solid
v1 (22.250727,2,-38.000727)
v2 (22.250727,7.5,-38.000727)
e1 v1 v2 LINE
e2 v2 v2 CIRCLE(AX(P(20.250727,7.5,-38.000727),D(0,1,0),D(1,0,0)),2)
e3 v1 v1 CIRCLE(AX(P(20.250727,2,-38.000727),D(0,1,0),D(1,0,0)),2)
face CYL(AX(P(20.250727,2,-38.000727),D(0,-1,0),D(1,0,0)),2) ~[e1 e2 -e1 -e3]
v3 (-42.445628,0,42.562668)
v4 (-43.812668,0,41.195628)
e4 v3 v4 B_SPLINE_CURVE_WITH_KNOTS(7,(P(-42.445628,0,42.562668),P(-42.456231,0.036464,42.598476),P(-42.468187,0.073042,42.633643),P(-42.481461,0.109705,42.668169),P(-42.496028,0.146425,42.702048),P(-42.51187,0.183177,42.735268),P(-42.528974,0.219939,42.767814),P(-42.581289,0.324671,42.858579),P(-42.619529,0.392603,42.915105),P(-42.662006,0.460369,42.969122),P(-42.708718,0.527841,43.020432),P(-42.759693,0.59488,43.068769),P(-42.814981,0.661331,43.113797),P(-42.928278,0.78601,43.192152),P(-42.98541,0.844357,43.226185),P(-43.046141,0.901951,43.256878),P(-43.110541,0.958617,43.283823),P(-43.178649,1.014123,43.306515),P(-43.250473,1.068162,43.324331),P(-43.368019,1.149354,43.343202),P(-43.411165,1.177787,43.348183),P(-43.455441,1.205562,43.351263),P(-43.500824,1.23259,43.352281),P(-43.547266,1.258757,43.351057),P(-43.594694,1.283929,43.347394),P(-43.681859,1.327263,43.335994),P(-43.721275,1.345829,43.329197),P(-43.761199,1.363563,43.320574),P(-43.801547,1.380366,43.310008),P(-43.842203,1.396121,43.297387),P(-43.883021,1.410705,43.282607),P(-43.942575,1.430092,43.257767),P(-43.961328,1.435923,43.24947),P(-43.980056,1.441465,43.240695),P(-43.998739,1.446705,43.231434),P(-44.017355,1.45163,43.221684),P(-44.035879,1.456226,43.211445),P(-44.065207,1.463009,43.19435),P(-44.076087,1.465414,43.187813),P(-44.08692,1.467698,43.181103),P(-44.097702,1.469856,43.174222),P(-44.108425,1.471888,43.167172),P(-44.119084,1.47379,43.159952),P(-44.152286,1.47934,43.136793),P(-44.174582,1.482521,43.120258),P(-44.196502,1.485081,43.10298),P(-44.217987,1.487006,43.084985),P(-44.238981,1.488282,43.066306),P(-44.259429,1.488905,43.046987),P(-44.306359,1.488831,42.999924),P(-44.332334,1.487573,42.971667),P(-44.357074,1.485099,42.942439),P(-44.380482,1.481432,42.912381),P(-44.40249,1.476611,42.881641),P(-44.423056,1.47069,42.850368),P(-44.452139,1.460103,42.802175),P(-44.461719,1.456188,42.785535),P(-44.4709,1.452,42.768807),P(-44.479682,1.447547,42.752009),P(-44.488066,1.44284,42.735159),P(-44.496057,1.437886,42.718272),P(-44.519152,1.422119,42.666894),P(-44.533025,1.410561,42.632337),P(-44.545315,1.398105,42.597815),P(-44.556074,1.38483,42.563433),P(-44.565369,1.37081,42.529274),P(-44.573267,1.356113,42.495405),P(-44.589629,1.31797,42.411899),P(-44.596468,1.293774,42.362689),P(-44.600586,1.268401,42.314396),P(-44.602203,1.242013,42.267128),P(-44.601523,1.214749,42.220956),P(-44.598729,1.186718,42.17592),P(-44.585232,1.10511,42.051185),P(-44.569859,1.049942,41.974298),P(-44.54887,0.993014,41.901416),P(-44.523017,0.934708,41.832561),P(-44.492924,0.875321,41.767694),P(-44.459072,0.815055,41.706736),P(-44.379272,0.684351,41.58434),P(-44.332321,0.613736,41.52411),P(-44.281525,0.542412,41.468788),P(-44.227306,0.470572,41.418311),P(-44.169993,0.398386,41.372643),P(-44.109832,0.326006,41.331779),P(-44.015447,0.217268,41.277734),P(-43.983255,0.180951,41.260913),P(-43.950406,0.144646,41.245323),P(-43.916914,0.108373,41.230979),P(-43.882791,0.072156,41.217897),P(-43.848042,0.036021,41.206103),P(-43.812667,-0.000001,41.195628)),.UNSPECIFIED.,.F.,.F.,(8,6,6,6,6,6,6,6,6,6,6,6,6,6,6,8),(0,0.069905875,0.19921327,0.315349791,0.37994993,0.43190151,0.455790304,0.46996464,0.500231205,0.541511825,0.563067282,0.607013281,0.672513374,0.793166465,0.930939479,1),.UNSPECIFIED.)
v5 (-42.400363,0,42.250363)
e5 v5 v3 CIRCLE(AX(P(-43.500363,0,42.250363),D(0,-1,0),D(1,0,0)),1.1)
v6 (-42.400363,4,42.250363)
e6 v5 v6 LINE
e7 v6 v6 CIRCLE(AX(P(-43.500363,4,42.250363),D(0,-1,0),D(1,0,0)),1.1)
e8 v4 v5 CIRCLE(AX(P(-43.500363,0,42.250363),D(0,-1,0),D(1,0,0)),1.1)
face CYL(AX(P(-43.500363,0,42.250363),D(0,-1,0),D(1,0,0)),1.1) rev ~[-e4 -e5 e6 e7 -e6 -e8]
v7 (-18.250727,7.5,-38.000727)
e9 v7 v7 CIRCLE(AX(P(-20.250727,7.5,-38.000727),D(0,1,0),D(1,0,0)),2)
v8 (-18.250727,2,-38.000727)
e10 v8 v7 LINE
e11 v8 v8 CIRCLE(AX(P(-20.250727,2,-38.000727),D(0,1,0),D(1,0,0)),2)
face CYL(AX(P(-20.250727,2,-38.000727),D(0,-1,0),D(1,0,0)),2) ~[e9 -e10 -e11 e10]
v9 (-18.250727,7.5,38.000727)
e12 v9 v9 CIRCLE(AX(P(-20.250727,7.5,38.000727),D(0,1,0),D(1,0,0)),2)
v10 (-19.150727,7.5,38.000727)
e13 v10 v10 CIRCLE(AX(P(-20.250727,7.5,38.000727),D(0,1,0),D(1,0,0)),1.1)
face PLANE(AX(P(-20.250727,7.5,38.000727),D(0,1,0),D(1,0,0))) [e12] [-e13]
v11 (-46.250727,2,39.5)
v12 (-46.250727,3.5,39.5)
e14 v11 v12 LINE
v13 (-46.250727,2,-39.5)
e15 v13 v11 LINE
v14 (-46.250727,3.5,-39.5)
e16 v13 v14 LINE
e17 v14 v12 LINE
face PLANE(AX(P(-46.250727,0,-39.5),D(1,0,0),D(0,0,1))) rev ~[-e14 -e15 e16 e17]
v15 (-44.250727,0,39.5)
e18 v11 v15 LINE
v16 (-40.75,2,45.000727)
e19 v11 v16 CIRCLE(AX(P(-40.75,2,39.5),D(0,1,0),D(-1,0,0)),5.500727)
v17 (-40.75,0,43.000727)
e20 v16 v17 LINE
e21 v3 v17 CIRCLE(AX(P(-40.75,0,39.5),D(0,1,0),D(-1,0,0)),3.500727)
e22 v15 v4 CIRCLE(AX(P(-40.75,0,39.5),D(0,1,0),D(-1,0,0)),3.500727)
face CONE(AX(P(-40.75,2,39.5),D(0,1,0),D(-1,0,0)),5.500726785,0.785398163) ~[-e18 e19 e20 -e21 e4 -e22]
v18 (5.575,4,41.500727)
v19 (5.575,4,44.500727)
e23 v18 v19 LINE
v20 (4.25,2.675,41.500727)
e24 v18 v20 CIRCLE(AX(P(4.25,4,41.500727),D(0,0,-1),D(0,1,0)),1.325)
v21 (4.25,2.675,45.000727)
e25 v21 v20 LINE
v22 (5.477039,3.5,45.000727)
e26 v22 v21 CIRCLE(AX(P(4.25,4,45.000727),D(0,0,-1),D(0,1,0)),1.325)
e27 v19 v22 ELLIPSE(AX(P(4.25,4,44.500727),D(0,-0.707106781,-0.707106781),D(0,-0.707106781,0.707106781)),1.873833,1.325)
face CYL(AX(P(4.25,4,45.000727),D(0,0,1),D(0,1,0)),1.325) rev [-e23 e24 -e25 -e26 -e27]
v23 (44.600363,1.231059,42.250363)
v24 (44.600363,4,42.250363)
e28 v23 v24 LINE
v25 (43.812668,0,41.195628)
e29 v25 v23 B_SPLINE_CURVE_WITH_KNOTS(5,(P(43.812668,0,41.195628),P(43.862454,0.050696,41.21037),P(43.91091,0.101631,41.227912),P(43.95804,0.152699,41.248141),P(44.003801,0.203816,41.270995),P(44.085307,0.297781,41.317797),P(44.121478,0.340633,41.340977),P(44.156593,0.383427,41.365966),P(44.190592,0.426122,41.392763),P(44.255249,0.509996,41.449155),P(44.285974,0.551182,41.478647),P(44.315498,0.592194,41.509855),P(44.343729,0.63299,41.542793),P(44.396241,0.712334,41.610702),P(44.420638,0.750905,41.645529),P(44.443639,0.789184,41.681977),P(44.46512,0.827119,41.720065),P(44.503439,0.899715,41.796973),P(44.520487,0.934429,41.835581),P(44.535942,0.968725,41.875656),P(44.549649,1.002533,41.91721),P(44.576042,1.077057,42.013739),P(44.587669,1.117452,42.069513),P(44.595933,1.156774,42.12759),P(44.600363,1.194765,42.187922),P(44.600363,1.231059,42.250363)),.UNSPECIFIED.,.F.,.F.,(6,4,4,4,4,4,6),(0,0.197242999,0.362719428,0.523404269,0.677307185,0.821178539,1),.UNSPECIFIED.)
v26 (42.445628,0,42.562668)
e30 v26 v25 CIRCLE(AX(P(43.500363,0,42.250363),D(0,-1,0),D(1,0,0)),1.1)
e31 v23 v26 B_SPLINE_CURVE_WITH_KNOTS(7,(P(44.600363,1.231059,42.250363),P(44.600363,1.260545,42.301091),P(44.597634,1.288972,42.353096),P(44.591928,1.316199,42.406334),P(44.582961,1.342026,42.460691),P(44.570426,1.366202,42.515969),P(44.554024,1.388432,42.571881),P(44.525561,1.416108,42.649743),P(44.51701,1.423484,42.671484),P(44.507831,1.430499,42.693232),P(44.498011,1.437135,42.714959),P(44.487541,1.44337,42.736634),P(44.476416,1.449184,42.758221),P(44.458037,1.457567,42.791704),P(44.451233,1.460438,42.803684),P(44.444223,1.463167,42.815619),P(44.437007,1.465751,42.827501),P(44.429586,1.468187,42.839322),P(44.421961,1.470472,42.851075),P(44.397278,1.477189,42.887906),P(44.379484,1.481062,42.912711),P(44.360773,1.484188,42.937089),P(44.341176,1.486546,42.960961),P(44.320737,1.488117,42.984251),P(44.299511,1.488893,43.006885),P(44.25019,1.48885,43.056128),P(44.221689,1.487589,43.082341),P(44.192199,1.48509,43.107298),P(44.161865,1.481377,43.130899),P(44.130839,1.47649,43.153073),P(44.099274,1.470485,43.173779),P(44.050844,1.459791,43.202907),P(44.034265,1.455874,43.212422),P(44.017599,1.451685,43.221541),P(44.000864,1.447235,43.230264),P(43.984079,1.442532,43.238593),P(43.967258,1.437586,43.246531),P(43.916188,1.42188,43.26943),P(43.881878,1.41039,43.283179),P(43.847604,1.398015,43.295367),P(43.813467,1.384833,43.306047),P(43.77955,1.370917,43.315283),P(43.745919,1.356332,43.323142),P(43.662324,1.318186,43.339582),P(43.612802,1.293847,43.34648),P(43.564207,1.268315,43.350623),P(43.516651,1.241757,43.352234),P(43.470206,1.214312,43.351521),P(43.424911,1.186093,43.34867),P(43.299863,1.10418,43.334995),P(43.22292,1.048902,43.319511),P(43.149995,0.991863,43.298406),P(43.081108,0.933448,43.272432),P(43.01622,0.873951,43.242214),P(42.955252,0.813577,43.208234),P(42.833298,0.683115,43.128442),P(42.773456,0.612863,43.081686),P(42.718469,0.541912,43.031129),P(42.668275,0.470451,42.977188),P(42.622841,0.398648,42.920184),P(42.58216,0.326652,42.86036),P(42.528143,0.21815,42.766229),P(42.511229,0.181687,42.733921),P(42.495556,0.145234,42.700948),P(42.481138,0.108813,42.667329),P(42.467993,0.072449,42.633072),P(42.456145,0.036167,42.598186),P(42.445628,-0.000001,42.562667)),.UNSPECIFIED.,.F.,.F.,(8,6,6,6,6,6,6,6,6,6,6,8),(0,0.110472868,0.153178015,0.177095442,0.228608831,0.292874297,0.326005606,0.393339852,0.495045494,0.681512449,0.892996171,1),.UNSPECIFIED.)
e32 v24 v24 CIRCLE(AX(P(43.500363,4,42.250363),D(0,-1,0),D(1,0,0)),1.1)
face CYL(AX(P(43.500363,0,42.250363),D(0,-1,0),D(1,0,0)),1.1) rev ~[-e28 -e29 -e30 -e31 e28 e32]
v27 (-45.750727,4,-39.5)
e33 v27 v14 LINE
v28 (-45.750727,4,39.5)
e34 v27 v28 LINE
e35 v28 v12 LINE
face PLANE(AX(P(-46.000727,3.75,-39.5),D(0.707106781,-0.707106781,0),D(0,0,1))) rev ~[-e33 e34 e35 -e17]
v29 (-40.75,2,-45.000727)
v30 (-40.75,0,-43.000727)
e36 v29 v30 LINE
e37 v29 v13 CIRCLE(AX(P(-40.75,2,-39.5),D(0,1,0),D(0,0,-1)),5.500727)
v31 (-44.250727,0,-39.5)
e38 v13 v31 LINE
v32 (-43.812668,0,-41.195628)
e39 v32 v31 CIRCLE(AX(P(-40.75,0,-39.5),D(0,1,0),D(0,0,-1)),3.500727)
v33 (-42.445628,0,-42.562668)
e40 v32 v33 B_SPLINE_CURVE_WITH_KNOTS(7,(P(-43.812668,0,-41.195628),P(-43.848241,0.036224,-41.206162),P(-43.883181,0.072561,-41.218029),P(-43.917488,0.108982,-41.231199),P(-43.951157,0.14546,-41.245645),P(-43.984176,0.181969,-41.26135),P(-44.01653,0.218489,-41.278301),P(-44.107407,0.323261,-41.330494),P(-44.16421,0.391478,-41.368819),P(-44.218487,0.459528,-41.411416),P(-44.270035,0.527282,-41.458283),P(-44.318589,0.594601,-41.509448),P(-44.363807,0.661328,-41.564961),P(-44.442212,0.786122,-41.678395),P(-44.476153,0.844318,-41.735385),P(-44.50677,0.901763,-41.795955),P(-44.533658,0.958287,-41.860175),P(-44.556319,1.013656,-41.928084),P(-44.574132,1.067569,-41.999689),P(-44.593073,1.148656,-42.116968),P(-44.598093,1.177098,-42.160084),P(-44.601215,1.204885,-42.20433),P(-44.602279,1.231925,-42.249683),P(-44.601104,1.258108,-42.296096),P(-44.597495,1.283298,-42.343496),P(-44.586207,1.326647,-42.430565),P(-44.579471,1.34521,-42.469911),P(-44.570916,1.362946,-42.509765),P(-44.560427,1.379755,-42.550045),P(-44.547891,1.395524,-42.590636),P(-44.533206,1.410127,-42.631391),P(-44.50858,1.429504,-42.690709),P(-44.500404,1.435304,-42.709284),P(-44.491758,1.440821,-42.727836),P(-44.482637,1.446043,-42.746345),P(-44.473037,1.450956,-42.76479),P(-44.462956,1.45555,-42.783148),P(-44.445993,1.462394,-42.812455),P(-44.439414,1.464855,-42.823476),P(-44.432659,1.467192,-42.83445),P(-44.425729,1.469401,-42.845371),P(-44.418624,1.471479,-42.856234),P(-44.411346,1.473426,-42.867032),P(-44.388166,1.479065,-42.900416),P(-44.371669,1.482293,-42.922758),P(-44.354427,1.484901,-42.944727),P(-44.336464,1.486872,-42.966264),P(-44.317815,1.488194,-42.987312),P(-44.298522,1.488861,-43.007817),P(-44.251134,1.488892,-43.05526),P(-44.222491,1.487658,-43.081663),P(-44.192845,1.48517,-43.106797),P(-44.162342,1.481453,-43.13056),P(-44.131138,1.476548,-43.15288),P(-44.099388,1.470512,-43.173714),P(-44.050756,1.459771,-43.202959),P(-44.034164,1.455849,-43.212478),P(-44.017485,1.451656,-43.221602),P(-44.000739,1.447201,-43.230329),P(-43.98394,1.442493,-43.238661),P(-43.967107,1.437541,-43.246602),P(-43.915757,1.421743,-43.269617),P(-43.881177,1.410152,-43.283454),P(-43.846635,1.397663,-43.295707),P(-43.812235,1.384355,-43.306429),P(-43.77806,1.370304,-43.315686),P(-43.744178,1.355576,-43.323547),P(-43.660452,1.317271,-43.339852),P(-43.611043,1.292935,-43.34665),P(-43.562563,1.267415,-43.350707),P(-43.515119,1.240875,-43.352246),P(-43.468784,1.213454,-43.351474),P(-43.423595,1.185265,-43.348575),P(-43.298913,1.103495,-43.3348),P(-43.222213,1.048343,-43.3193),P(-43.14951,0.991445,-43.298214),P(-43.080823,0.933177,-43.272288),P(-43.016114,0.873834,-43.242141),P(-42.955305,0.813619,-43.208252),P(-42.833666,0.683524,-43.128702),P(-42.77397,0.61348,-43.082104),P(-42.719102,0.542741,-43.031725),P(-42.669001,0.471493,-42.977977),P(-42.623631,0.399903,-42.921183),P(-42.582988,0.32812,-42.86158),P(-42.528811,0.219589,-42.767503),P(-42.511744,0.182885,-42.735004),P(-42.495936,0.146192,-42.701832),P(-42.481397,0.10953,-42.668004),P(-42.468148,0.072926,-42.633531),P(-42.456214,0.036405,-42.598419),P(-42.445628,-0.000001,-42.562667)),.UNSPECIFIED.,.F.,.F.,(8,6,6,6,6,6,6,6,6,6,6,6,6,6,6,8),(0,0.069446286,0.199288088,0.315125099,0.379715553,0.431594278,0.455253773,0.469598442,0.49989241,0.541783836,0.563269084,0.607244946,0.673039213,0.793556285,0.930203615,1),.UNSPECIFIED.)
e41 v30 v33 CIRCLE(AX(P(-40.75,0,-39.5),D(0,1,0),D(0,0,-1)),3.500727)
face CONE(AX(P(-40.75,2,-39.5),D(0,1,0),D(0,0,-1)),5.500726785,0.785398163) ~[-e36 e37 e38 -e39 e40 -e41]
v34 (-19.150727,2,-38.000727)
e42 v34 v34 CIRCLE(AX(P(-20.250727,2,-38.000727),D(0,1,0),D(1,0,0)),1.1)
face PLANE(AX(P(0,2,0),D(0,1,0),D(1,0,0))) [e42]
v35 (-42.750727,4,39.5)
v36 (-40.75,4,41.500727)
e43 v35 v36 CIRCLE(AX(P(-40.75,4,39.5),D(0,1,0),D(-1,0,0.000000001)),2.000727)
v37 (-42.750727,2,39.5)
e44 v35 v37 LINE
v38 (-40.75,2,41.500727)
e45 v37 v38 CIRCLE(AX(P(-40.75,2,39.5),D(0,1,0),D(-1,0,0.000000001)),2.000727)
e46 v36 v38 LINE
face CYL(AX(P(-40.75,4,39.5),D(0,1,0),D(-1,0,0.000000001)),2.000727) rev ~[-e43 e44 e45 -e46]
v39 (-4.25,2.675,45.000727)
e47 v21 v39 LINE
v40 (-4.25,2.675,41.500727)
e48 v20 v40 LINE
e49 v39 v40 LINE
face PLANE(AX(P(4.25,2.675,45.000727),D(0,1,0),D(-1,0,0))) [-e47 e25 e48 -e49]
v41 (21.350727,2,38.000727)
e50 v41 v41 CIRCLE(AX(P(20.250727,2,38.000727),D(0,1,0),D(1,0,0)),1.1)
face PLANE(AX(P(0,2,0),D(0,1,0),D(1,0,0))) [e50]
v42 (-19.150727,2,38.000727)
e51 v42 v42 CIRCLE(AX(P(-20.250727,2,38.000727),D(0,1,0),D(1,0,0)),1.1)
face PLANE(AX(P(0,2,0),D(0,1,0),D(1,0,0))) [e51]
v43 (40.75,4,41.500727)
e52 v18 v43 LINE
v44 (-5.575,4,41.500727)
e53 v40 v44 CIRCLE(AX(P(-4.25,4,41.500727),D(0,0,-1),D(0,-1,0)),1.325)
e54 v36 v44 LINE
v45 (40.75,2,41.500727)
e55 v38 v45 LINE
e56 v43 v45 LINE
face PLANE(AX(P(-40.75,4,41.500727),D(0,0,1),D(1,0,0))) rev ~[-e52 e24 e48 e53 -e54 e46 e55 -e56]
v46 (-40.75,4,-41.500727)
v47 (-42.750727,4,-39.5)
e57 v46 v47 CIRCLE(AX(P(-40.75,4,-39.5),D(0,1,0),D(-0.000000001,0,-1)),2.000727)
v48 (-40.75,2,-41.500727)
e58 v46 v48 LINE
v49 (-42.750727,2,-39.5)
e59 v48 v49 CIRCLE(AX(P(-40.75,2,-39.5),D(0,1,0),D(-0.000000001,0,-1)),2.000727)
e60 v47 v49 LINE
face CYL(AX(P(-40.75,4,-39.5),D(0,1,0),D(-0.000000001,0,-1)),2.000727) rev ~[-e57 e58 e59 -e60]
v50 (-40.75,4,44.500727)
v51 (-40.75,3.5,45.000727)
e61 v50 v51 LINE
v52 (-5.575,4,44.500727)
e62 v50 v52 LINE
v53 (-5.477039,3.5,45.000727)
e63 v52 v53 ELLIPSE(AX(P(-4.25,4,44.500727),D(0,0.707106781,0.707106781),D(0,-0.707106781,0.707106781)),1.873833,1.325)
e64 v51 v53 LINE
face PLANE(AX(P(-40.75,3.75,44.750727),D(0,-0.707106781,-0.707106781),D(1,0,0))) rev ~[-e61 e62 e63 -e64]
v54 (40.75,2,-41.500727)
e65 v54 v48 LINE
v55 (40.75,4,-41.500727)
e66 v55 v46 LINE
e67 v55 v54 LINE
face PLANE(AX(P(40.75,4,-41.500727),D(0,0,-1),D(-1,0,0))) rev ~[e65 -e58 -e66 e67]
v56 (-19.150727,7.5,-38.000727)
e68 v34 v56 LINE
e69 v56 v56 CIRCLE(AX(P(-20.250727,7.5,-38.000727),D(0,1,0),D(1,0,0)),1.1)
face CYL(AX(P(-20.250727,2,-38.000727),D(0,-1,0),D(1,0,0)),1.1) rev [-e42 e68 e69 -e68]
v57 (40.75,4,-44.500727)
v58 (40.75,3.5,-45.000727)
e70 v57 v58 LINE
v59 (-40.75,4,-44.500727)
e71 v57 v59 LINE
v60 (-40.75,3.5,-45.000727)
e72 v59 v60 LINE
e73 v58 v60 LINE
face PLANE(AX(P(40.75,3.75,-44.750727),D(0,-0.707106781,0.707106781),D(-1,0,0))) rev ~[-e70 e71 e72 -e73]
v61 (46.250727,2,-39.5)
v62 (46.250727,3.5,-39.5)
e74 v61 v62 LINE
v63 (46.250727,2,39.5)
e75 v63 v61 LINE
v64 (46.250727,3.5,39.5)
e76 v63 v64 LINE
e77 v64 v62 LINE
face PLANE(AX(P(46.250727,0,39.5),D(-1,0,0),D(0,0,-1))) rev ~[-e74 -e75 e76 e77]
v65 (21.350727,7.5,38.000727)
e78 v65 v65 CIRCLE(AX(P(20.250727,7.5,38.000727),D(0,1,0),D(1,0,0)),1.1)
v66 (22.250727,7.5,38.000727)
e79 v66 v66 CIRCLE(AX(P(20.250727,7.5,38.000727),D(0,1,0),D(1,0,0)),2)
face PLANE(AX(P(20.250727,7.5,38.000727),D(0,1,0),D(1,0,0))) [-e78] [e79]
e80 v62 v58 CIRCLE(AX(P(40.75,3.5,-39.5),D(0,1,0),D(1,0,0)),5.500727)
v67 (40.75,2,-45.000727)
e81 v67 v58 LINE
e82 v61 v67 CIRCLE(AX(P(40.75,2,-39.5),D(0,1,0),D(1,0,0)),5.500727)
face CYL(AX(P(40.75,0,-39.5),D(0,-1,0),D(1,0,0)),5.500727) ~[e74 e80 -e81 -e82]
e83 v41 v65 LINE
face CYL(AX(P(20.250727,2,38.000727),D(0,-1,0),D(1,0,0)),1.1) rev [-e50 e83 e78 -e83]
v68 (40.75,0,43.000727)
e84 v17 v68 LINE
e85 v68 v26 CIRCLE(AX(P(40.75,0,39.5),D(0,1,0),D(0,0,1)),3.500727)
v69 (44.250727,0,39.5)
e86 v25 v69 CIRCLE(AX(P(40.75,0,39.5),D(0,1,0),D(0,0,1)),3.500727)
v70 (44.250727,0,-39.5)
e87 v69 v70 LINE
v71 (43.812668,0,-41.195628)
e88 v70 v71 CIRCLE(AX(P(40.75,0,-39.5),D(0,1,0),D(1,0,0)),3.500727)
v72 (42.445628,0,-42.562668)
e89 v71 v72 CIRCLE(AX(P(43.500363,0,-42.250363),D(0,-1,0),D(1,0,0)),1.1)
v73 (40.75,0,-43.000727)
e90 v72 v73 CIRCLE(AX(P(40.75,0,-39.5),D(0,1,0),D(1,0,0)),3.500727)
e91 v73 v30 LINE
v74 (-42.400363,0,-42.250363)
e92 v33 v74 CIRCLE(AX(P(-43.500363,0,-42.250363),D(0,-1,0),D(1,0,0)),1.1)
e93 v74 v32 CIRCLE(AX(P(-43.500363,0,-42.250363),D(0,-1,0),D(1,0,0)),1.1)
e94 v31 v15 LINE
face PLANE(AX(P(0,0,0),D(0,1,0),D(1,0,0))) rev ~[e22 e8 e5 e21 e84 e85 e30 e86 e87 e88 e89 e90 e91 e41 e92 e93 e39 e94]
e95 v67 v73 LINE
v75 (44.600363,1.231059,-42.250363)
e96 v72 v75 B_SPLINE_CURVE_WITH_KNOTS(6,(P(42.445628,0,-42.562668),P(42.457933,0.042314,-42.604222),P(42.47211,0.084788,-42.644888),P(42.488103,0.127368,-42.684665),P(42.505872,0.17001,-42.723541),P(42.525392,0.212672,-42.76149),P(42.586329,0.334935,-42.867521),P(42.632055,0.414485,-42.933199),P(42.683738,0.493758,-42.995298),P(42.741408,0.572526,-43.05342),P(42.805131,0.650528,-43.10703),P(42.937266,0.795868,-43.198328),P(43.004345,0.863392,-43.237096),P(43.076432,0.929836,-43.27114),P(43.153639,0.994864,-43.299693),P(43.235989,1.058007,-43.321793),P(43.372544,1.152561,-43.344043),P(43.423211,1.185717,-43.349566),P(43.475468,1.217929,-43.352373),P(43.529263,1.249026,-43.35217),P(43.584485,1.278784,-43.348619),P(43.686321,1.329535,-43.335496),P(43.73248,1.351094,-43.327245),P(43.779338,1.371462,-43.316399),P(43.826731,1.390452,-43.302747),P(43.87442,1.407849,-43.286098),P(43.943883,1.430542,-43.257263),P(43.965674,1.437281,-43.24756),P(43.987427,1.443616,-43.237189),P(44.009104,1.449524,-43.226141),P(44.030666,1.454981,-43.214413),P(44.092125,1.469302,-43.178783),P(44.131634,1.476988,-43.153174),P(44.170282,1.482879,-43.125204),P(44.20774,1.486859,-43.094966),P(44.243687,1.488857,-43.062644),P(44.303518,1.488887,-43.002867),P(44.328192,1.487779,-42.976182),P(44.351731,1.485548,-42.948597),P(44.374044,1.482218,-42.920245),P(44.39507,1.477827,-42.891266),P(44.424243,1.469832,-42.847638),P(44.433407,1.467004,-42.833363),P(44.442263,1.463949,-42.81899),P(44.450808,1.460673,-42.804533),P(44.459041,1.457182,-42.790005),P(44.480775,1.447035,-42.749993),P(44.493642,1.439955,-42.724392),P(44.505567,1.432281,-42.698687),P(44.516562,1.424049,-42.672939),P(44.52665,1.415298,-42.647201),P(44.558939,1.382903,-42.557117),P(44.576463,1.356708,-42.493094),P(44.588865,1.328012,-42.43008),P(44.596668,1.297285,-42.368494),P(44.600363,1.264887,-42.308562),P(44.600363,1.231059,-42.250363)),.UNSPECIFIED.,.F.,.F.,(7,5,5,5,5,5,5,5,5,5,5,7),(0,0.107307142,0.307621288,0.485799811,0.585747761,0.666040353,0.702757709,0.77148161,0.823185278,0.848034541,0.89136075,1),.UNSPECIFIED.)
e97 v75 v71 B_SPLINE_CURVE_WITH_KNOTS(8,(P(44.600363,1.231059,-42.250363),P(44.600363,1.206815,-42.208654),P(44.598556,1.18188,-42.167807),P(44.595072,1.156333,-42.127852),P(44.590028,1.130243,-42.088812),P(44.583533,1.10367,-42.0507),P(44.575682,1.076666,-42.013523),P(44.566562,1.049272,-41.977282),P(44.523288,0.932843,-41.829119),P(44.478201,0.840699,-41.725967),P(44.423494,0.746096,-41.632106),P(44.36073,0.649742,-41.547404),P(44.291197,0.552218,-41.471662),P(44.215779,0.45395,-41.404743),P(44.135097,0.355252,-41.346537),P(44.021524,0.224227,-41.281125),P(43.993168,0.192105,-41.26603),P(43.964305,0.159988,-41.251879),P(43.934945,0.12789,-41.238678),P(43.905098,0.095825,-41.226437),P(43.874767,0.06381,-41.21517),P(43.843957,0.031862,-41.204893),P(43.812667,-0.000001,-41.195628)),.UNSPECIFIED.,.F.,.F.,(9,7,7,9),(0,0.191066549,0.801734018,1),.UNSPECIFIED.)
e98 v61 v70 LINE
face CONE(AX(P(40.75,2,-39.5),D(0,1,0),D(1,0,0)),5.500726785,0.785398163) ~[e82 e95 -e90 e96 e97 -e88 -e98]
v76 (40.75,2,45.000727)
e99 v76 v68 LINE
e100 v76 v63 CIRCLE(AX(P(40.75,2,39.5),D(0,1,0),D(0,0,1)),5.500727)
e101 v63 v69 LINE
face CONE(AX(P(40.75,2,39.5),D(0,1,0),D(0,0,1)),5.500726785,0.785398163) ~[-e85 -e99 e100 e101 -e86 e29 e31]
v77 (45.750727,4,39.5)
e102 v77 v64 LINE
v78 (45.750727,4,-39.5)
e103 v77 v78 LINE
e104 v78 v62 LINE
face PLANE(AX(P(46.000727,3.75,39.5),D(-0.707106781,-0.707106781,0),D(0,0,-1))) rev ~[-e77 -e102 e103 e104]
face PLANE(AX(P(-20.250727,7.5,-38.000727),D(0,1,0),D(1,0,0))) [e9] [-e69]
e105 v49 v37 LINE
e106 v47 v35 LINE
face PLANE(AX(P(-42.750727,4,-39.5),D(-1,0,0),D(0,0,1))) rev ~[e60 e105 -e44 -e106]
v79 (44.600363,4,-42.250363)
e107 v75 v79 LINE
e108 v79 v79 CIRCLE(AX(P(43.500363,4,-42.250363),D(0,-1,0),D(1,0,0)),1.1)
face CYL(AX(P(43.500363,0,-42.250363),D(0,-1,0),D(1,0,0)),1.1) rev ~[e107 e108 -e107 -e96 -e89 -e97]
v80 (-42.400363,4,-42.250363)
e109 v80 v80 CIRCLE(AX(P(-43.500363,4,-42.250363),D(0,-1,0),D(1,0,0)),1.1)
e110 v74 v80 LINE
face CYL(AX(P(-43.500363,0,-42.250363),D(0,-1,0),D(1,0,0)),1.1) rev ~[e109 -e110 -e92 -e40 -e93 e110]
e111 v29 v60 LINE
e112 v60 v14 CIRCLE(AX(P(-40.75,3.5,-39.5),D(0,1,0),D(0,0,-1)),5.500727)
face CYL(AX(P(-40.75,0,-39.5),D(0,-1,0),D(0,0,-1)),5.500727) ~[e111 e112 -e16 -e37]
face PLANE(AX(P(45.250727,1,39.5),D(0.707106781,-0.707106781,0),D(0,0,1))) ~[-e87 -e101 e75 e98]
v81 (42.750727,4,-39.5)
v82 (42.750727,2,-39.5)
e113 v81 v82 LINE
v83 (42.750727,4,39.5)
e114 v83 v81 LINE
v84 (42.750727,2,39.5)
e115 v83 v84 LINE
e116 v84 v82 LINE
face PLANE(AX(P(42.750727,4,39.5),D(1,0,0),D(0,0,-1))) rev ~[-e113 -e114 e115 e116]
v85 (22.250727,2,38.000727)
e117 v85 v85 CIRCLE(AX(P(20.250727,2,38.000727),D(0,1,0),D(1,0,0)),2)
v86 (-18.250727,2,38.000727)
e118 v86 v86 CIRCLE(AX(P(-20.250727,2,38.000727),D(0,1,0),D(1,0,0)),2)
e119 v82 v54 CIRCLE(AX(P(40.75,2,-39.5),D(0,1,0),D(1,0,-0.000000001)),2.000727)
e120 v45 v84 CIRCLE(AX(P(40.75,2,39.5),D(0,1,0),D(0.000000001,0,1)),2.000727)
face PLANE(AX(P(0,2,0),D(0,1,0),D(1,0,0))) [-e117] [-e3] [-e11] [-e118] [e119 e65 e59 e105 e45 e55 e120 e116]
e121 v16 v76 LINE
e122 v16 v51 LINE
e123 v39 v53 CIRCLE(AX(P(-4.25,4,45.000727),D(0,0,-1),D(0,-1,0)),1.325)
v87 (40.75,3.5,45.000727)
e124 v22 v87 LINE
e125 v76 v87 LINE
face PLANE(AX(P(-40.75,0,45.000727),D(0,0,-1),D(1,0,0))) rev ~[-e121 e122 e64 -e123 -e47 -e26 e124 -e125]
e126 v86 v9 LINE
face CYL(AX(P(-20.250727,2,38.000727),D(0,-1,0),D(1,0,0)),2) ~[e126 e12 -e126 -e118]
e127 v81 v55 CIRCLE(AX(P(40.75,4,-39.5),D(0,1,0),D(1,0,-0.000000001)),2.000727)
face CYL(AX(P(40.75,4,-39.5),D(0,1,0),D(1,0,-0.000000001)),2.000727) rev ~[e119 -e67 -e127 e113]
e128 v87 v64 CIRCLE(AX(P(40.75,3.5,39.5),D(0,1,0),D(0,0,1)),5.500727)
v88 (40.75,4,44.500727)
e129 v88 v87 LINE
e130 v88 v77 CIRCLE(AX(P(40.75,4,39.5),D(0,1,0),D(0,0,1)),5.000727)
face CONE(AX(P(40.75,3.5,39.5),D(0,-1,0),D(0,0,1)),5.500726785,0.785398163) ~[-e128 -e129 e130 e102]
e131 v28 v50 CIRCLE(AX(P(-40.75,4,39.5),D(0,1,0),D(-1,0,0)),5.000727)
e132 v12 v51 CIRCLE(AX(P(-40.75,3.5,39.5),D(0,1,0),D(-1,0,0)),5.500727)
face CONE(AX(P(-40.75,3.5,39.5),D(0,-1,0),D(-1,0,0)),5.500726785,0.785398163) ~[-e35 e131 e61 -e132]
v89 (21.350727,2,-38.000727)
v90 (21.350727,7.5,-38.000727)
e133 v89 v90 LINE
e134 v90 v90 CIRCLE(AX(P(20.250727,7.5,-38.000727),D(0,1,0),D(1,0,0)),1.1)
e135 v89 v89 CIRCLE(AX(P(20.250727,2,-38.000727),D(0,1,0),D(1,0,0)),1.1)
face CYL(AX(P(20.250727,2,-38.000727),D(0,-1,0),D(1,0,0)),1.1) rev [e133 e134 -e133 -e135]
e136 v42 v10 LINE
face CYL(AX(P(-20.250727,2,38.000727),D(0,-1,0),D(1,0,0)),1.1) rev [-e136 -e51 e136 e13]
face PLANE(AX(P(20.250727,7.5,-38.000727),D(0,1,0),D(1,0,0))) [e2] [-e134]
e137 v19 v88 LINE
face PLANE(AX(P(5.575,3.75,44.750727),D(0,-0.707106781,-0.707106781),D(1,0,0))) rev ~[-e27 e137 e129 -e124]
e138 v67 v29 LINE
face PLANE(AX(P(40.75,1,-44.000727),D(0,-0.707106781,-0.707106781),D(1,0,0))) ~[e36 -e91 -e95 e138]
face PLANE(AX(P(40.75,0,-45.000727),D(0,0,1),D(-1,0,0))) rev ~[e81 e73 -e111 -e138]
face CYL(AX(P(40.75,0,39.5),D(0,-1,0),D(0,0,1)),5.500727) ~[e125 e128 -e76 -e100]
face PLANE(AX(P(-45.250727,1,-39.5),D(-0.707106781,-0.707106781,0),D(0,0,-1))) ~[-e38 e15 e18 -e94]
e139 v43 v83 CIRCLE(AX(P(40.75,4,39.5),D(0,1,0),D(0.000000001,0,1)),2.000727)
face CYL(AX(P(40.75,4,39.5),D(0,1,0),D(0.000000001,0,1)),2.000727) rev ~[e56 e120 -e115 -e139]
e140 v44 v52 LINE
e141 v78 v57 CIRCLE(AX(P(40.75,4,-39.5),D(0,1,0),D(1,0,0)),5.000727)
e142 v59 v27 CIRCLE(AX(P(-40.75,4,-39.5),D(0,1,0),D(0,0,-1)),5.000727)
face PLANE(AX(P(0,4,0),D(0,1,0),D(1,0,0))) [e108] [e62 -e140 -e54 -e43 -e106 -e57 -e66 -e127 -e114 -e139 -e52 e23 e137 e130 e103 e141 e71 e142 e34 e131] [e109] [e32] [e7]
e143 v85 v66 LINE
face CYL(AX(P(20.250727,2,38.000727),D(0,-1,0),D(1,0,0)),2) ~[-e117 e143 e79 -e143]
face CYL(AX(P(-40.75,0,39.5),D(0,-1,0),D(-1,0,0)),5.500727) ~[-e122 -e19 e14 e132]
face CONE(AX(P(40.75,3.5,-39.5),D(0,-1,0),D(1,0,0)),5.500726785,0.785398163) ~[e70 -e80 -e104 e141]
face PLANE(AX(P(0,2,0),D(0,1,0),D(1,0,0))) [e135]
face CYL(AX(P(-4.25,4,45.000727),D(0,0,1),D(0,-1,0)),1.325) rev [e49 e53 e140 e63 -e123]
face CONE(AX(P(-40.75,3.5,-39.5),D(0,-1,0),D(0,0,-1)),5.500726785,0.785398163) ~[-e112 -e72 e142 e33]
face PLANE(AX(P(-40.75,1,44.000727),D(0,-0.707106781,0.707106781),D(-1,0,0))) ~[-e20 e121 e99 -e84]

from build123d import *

# Parameters (mm, degrees)
BOSS_EXTRUDE1_DEPTH = 4
CUT_EXTRUDE1_DEPTH  = 2
CUT_EXTRUDE2_DEPTH  = 3.5
CHAMFER2_SIZE       = 2
CHAMFER3_SIZE       = 0.5
SKETCH4_R           = 2
SKETCH4_R_2         = 1.1
BOSS_EXTRUDE2_DEPTH = 5.5
SKETCH5_R           = 1.1
CUT_EXTRUDE3_DEPTH  = 4


with BuildPart() as part:
    # Sketch1 → Boss-Extrude1 (new body)
    with BuildSketch(Plane(origin=(0, 0, 0), x_dir=(1, 0, 0), z_dir=(0, 1, 0))):
        with BuildLine():
            Line((40.75, 45.000726786), (-40.75, 45.000726786))
            ThreePointArc((-40.75, 45.000726786), (-44.639601212, 43.389601212), (-46.250726786, 39.5))
            Line((-46.250726786, 39.5), (-46.250726786, -39.5))
            ThreePointArc((-46.250726786, -39.5), (-44.639601212, -43.389601212), (-40.75, -45.000726786))
            Line((-40.75, -45.000726786), (40.75, -45.000726786))
            ThreePointArc((40.75, -45.000726786), (44.639601212, -43.389601212), (46.250726786, -39.5))
            Line((46.250726786, -39.5), (46.250726786, 39.5))
            ThreePointArc((46.250726786, 39.5), (44.639601212, 43.389601212), (40.75, 45.000726786))
        make_face()
    extrude(amount=BOSS_EXTRUDE1_DEPTH)

    # Sketch2 → Cut-Extrude1 (cut)
    with BuildSketch(Plane(origin=(0, 4, 0), x_dir=(1, 0, 0), z_dir=(0, 1, 0))):
        with BuildLine():
            Line((-42.750726786, 39.5), (-42.750726786, -39.5))
            ThreePointArc((-42.750726786, -39.5), (-42.164727477, -40.914727477), (-40.75, -41.500726786))
            Line((-40.75, -41.500726786), (40.75, -41.500726786))
            ThreePointArc((40.75, -41.500726786), (42.164727477, -40.914727477), (42.750726786, -39.5))
            Line((42.750726786, -39.5), (42.750726786, 39.5))
            ThreePointArc((42.750726786, 39.5), (42.164727477, 40.914727477), (40.75, 41.500726786))
            Line((40.75, 41.500726786), (-40.75, 41.500726786))
            ThreePointArc((-40.75, 41.500726786), (-42.164727477, 40.914727477), (-42.750726786, 39.5))
        make_face()
    extrude(amount=-CUT_EXTRUDE1_DEPTH, mode=Mode.SUBTRACT)

    # Sketch3 → Cut-Extrude2 (cut)
    with BuildSketch(Plane.XY.offset(45.000726786)):
        with BuildLine():
            Line((-4.25, 5.325), (4.25, 5.325))
            ThreePointArc((4.25, 5.325), (5.575, 4), (4.25, 2.675))
            Line((4.25, 2.675), (-4.25, 2.675))
            ThreePointArc((-4.25, 2.675), (-5.575, 4), (-4.25, 5.325))
        make_face()
    extrude(amount=-CUT_EXTRUDE2_DEPTH, mode=Mode.SUBTRACT)

    # Chamfer2
    chamfer2_edges = [part.edges().sort_by_distance(p)[0] for p in [
        (44.639601212, 0, -43.389601212),
        (46.250726786, 0, 0),
        (44.639601212, 0, 43.389601212),
        (0, 0, 45.000726786),
        (-44.639601212, 0, 43.389601212),
        (-46.250726786, 0, 0),
        (-44.639601212, 0, -43.389601212),
        (0, 0, -45.000726786),
    ]]
    chamfer(chamfer2_edges, length=CHAMFER2_SIZE)

    # Chamfer3
    chamfer3_edges = [part.edges().sort_by_distance(p)[0] for p in [
        (46.250726786, 4, 0),
        (44.639601212, 4, -43.389601212),
        (0, 4, -45.000726786),
        (-44.639601212, 4, -43.389601212),
        (-46.250726786, 4, 0),
        (-44.639601212, 4, 43.389601212),
        (-23.1625, 4, 45.000726786),
        (23.1625, 4, 45.000726786),
        (44.639601212, 4, 43.389601212),
    ]]
    chamfer(chamfer3_edges, length=CHAMFER3_SIZE)

    # Sketch4 → Boss-Extrude2 (add)
    with BuildSketch(Plane(origin=(0, 2, 0), x_dir=(1, 0, 0), z_dir=(0, 1, 0))):
        with Locations((-20.250726786, -38.000726786)):
            Circle(SKETCH4_R)
        with Locations((-20.250726786, -38.000726786)):
            Circle(SKETCH4_R_2, mode=Mode.SUBTRACT)
        with Locations((20.250726786, -38.000726786)):
            Circle(SKETCH4_R)
        with Locations((20.250726786, -38.000726786)):
            Circle(SKETCH4_R_2, mode=Mode.SUBTRACT)
        with Locations((20.250726786, 38.000726786)):
            Circle(SKETCH4_R)
        with Locations((20.250726786, 38.000726786)):
            Circle(SKETCH4_R_2, mode=Mode.SUBTRACT)
        with Locations((-20.250726786, 38.000726786)):
            Circle(SKETCH4_R)
        with Locations((-20.250726786, 38.000726786)):
            Circle(SKETCH4_R_2, mode=Mode.SUBTRACT)
    extrude(amount=BOSS_EXTRUDE2_DEPTH)

    # Sketch5 → Cut-Extrude3 (cut)
    with BuildSketch(Plane.XZ):
        with Locations((-43.500363393, 42.250363393)):
            Circle(SKETCH5_R)
        with Locations((43.500363393, 42.250363393)):
            Circle(SKETCH5_R)
        with Locations((43.500363393, -42.250363393)):
            Circle(SKETCH5_R)
        with Locations((-43.500363393, -42.250363393)):
            Circle(SKETCH5_R)
    extrude(amount=-CUT_EXTRUDE3_DEPTH, mode=Mode.SUBTRACT)


solid = part.part
